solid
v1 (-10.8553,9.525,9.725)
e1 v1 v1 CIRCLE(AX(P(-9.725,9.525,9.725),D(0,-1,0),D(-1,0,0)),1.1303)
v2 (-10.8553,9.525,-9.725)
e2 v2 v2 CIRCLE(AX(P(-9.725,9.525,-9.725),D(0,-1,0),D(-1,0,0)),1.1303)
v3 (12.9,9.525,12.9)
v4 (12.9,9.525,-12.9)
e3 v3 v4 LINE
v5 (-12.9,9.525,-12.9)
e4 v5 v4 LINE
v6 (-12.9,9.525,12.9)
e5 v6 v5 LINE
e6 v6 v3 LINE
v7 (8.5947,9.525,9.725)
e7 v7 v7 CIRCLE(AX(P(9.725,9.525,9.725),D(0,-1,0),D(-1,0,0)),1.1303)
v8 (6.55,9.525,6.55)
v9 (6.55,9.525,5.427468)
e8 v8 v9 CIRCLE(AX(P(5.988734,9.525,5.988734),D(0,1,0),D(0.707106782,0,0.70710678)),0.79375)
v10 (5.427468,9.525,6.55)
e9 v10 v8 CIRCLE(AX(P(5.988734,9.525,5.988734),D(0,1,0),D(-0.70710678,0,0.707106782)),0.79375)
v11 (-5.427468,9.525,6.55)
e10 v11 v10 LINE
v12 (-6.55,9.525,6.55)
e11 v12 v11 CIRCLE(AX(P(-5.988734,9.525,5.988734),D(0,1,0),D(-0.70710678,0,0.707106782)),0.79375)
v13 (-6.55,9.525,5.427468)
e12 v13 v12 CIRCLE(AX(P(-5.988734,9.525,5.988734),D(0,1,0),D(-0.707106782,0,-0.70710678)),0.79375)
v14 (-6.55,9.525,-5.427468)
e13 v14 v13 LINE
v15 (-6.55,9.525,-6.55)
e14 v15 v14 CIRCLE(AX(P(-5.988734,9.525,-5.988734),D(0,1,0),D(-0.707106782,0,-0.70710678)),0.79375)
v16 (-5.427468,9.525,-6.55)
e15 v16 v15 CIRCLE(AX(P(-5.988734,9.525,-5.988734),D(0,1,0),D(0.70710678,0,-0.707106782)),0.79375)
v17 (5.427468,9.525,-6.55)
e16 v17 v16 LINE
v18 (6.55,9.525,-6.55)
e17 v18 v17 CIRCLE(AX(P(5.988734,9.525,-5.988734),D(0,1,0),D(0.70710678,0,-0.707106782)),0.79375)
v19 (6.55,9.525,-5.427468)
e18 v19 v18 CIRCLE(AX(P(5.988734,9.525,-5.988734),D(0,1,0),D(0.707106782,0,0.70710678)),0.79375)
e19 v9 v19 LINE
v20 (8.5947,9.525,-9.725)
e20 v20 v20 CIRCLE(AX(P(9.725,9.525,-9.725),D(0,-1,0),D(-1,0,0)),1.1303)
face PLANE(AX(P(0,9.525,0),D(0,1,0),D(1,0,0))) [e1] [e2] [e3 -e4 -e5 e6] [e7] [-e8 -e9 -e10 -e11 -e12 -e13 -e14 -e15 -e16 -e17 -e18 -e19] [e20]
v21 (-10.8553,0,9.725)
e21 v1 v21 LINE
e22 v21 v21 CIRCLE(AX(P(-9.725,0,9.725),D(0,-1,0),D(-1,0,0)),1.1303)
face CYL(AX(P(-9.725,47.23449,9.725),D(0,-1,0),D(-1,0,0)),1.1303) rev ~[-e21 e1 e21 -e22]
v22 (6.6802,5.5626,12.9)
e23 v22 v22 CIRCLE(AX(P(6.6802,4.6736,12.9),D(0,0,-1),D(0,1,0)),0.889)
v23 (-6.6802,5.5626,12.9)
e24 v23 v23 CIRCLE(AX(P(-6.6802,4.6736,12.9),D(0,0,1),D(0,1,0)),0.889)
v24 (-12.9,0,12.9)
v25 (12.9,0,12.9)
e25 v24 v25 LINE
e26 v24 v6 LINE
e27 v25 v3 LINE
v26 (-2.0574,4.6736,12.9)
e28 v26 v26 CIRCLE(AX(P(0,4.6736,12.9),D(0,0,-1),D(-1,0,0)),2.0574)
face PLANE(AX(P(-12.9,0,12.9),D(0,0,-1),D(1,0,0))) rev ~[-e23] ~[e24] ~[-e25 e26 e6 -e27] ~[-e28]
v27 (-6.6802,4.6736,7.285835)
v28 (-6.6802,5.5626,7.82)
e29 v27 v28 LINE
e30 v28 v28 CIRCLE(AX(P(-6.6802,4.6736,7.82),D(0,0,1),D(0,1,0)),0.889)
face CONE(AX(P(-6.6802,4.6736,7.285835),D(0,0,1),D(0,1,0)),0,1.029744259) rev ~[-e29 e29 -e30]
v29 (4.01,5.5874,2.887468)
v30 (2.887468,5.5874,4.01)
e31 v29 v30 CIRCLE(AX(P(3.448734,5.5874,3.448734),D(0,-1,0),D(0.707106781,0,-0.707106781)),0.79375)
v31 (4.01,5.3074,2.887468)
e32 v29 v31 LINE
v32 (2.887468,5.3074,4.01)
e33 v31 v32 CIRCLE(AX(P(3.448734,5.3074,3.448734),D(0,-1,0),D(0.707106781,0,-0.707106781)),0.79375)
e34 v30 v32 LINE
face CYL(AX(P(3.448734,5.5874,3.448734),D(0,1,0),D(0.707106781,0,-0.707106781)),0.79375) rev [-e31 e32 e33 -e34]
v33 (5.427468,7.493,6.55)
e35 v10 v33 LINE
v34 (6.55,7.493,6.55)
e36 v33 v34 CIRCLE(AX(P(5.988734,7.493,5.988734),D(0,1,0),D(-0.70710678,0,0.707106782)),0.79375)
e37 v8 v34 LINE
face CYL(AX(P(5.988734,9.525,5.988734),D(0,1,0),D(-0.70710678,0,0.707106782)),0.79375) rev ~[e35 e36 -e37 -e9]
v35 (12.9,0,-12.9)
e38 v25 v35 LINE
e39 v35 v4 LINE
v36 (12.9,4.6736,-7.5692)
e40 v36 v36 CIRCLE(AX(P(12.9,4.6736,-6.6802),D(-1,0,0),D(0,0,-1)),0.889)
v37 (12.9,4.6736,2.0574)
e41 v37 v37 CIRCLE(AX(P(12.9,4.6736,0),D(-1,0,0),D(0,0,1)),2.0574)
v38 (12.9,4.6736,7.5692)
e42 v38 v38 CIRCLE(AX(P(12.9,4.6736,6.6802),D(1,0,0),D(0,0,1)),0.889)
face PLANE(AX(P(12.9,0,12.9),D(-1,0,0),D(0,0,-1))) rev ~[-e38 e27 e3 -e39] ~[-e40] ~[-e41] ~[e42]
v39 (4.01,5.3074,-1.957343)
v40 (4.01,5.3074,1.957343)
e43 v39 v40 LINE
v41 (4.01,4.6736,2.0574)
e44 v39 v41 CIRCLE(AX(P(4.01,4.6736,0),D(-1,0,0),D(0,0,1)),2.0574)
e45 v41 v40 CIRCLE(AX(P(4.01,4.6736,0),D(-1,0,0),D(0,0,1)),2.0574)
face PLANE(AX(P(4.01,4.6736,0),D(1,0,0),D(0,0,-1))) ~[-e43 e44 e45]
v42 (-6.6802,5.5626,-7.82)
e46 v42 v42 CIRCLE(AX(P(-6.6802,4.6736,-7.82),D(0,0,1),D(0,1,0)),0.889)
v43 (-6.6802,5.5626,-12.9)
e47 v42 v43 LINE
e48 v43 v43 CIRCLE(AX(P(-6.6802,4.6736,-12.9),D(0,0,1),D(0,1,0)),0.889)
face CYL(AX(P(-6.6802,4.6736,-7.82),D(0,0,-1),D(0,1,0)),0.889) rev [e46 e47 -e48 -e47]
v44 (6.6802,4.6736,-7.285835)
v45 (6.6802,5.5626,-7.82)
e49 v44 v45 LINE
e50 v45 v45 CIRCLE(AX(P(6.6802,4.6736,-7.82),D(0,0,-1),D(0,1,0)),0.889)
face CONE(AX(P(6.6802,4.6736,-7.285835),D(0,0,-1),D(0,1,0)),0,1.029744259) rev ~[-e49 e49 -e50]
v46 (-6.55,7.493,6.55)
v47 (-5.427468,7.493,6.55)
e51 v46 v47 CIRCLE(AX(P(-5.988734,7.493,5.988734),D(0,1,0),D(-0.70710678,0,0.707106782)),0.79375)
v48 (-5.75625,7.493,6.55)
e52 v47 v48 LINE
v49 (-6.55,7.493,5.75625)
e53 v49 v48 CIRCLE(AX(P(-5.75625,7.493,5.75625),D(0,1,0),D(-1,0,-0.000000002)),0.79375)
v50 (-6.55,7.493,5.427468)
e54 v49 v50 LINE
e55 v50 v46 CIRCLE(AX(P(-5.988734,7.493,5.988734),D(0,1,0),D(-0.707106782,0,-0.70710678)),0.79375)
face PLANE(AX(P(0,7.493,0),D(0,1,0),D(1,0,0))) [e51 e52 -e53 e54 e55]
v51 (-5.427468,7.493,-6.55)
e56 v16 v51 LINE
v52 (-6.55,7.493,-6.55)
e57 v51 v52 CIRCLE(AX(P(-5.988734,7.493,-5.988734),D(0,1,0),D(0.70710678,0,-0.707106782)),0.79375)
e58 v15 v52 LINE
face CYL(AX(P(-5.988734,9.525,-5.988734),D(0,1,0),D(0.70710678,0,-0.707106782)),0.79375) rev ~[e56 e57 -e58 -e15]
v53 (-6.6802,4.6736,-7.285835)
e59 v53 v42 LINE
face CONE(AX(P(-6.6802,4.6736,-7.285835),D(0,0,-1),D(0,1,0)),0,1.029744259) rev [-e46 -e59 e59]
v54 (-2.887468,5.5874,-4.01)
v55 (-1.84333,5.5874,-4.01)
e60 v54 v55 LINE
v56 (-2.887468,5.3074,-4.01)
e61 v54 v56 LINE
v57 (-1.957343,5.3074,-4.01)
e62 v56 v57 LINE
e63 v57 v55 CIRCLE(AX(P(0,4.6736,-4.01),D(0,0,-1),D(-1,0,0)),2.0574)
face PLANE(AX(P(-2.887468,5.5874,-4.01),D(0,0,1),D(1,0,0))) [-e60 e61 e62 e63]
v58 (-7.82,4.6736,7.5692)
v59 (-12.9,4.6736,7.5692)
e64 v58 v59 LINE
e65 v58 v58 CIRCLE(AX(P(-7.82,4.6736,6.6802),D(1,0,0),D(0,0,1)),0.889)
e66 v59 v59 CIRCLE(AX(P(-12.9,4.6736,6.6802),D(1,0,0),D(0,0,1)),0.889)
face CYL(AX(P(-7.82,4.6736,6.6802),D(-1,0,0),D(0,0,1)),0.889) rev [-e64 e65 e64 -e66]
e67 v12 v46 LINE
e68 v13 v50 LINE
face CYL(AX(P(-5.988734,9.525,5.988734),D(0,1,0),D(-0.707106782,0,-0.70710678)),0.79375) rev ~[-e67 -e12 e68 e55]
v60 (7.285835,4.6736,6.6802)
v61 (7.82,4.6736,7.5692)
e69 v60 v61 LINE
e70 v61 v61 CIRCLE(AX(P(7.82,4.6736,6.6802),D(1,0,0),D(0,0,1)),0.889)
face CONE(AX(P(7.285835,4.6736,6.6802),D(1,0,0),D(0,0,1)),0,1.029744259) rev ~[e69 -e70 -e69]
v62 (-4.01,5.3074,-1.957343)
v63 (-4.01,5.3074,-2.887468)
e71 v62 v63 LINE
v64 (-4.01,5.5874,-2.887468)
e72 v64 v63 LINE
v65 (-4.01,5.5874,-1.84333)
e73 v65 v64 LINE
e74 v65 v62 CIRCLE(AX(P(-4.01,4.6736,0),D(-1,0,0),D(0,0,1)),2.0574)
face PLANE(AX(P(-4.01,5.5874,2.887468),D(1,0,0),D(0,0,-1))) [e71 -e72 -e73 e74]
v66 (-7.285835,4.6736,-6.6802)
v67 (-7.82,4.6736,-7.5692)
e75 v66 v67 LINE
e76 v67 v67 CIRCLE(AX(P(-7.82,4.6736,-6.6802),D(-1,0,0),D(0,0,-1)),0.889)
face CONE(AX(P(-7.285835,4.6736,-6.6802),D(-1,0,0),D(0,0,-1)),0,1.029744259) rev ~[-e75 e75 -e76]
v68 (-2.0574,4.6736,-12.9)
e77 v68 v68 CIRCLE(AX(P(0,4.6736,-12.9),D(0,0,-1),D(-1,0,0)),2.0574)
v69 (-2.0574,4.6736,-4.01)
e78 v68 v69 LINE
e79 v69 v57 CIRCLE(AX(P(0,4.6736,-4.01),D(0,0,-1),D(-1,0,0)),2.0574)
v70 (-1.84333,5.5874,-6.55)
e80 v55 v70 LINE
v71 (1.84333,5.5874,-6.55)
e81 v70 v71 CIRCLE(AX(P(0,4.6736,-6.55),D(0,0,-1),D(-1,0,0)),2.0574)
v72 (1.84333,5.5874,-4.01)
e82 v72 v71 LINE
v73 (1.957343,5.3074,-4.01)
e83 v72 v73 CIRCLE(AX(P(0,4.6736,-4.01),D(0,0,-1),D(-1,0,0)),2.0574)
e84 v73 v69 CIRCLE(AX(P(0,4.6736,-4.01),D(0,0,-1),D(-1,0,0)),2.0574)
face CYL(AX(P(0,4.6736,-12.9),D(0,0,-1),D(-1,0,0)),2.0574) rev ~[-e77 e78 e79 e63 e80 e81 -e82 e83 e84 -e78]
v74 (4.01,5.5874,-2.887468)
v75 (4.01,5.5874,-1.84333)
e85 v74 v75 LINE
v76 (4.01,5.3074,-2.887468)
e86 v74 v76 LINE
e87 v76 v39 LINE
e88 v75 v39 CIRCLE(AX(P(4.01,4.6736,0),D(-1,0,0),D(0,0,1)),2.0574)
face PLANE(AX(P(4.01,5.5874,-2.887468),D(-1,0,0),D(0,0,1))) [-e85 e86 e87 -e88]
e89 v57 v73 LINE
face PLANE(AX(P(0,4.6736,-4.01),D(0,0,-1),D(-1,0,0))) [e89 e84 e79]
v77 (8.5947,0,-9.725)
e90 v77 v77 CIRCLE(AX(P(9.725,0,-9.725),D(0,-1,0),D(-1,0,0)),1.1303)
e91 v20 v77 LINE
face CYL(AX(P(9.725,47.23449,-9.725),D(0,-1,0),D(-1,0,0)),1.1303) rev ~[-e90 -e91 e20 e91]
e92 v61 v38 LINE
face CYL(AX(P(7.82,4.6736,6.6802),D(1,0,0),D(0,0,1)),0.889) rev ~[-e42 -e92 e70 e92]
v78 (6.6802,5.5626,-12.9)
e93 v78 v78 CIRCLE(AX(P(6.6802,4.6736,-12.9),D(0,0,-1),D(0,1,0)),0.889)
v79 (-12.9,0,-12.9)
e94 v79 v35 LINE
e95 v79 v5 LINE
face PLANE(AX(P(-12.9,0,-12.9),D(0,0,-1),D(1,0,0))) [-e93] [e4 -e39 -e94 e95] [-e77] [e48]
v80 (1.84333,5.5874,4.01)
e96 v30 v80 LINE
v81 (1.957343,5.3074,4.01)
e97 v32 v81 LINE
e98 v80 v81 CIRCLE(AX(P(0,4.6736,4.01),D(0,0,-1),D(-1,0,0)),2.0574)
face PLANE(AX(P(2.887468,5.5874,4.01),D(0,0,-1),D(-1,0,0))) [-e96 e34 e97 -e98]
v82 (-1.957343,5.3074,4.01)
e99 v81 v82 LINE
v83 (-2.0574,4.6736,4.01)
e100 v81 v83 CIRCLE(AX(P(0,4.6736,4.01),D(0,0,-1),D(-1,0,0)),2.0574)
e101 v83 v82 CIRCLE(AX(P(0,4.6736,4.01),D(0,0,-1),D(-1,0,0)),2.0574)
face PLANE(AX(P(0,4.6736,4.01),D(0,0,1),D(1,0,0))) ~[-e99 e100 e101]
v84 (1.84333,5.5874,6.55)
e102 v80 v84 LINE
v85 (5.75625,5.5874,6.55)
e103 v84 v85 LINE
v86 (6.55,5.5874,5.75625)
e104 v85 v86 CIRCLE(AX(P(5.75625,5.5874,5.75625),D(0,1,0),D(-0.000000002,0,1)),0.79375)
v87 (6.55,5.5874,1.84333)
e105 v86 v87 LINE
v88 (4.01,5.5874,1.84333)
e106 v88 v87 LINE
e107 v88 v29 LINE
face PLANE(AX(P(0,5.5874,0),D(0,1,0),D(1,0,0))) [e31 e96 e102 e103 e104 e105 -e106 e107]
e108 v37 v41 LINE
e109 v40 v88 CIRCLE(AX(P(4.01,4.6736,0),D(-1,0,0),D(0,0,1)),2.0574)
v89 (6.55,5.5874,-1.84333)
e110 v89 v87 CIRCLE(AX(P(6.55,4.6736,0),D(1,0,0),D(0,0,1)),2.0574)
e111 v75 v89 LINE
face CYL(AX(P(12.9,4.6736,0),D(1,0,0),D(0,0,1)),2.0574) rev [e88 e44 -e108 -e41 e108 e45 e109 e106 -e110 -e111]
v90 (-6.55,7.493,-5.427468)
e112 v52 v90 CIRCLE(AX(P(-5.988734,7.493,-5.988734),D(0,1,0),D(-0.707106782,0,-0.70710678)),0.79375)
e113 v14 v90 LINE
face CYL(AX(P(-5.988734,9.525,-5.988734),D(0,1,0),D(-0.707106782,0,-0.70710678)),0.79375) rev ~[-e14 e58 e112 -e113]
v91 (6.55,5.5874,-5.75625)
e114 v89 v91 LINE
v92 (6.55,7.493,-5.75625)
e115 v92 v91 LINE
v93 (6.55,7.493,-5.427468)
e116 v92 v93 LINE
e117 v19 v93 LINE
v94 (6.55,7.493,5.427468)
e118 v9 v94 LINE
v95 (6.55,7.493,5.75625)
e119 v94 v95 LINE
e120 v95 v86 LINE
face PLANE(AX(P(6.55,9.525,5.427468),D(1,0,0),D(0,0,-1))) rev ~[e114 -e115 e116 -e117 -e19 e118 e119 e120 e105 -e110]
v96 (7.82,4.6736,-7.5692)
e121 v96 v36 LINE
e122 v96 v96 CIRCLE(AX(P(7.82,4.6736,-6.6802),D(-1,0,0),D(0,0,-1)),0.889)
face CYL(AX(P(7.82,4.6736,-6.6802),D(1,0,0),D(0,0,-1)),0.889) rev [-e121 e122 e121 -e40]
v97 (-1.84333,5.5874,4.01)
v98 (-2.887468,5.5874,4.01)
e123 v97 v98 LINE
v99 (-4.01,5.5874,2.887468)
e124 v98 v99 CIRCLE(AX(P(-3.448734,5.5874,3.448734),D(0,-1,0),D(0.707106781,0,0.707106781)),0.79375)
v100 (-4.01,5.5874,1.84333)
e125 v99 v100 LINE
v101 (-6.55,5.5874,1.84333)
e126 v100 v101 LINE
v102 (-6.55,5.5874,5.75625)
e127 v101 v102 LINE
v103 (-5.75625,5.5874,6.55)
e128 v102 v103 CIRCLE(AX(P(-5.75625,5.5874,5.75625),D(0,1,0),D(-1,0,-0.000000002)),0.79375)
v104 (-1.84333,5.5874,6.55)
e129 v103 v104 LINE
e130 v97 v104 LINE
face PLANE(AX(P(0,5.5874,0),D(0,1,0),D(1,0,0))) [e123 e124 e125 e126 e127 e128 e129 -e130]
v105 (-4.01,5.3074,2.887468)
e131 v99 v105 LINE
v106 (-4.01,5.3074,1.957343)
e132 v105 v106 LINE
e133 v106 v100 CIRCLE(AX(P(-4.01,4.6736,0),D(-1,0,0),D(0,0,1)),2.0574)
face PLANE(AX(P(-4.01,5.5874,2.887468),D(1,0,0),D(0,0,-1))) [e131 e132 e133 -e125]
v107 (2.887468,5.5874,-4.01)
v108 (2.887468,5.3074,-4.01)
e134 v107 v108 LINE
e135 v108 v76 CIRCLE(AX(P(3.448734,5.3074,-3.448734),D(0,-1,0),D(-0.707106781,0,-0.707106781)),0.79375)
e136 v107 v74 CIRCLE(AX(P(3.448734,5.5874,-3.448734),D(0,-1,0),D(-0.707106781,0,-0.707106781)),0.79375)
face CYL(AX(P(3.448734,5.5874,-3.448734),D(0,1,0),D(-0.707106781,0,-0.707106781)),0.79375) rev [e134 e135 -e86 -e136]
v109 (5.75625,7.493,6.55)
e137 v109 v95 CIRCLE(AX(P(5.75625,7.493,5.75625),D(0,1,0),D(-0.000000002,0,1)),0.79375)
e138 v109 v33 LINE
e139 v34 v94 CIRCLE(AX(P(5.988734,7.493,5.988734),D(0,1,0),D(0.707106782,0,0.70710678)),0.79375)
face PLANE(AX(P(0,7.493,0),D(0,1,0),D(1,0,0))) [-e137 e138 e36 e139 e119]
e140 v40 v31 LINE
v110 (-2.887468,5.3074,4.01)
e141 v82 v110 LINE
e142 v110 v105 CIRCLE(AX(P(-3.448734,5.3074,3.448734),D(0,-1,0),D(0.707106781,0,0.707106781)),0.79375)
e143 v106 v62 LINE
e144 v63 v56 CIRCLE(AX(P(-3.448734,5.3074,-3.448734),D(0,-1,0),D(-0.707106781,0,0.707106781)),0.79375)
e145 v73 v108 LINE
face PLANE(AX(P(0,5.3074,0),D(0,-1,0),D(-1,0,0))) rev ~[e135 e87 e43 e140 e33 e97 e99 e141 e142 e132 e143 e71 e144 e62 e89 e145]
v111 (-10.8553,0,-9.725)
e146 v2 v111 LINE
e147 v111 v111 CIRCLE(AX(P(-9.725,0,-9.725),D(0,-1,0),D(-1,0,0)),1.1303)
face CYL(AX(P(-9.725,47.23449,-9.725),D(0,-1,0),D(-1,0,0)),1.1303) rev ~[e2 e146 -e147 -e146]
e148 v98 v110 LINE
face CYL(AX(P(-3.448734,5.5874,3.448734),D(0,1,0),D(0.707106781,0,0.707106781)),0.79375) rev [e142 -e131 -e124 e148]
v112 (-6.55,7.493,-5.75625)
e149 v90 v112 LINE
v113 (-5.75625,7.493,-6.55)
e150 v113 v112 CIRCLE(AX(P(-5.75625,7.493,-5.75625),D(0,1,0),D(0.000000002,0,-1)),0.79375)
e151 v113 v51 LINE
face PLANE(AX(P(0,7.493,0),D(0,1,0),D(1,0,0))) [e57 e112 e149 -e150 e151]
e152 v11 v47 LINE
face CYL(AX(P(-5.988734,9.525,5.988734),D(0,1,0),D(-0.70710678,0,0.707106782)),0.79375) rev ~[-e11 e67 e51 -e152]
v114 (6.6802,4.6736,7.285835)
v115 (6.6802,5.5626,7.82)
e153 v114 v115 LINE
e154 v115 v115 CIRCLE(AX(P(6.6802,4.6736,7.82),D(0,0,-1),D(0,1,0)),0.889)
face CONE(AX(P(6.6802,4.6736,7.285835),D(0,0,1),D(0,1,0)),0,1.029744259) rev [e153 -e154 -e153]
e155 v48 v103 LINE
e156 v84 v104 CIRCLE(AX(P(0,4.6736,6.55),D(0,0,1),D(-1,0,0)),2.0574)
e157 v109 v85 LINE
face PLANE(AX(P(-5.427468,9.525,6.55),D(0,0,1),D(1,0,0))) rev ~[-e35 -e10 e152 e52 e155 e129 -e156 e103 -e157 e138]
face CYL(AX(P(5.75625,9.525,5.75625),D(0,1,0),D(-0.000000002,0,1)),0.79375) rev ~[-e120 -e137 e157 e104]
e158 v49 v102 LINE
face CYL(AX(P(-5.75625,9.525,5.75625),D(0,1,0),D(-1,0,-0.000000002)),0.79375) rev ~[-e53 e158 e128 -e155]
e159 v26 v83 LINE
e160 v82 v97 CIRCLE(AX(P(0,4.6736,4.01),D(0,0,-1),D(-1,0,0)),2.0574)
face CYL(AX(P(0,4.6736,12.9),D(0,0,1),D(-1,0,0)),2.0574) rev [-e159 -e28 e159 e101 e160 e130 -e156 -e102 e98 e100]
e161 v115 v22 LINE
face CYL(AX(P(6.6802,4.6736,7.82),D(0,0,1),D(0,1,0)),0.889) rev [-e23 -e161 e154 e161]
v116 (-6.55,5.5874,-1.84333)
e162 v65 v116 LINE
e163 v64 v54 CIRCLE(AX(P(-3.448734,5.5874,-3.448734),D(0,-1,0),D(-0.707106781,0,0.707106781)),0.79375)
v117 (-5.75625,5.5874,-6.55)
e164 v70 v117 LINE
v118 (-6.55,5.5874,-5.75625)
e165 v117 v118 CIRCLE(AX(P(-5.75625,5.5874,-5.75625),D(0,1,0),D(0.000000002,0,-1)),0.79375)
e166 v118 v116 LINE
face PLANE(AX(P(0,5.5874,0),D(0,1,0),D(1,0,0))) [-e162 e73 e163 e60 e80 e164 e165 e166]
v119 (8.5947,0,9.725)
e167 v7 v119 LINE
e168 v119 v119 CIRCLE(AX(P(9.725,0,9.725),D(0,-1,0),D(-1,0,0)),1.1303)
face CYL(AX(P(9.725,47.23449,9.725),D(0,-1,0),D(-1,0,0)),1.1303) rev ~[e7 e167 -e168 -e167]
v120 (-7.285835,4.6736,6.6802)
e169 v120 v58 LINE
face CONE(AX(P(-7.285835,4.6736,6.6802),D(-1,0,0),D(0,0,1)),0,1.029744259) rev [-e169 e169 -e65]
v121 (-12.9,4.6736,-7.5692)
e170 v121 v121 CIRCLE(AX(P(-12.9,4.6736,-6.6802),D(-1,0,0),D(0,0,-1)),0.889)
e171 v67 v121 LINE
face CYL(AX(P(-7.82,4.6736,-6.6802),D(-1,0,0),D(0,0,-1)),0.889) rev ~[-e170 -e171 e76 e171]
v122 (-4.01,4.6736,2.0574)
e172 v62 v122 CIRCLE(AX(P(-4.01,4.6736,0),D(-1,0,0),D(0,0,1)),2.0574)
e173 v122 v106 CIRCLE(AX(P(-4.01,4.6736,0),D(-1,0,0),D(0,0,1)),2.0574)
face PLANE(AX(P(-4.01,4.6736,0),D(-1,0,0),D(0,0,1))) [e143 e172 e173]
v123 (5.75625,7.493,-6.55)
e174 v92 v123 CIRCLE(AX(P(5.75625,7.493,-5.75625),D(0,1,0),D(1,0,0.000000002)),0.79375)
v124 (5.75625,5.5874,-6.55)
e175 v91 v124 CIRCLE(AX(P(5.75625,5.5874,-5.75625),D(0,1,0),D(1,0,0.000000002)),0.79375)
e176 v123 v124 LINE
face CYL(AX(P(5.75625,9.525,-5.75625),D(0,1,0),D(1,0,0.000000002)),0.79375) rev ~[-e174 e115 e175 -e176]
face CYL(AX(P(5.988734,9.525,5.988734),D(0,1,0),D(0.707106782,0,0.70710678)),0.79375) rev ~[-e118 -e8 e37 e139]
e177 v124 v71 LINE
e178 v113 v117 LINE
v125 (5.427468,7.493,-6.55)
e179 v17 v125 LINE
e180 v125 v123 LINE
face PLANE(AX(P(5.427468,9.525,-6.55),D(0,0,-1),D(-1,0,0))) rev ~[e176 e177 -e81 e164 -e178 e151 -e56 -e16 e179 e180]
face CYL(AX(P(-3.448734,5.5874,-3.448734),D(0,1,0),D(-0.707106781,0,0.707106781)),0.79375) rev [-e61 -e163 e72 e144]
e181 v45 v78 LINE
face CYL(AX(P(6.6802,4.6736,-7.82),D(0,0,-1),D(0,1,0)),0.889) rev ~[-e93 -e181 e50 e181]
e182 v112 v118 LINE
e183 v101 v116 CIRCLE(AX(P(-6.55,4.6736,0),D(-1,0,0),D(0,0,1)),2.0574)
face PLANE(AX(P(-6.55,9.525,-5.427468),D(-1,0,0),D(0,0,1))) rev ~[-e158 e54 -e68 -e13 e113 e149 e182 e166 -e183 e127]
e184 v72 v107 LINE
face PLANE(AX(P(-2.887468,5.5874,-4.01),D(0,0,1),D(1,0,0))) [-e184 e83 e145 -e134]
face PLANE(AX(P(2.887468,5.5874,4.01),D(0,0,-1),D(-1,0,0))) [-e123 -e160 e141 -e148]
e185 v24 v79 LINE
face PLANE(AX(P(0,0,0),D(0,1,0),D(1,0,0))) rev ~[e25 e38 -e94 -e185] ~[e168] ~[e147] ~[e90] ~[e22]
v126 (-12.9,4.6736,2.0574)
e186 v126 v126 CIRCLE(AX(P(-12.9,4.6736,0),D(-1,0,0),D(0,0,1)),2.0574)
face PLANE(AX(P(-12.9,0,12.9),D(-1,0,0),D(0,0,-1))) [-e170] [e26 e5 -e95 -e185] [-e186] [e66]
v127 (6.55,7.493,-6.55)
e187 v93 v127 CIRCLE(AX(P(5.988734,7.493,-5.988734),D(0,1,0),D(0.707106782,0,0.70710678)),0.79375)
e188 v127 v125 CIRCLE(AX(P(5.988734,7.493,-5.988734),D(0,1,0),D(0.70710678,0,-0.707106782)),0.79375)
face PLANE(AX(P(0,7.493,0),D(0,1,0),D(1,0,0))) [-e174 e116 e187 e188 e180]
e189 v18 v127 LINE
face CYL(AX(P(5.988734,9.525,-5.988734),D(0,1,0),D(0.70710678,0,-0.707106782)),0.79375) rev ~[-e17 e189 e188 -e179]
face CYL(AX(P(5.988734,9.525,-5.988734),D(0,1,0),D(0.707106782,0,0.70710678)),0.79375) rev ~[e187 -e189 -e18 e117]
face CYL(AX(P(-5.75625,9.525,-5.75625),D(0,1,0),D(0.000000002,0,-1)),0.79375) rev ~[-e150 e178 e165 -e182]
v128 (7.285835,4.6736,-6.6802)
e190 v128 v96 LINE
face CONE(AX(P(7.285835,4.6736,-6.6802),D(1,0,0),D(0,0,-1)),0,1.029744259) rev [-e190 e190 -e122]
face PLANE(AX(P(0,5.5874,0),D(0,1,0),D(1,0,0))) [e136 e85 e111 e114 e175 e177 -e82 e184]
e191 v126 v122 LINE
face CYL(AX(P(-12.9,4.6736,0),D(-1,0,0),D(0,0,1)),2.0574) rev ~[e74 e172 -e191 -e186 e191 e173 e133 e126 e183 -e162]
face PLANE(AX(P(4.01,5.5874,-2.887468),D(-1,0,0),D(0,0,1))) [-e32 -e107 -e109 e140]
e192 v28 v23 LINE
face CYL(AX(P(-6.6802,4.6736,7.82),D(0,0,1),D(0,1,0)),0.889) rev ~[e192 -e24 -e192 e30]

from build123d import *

# Parameters (mm, degrees)
SKETCH1_W             = 25.8
SKETCH1_H             = 25.8
BOSS_EXTRUDE1_DEPTH   = 9.525
SKETCH3_R             = 2.0574
CUT_EXTRUDE3_DEPTH    = 8.89
SKETCH7_R             = 2.0574
CUT_EXTRUDE5_DEPTH    = 8.89
CUT_EXTRUDE10_DEPTH   = 3.9376
CUT_EXTRUDE11_DEPTH   = 0.28
F_4_40_TAPPED_HOLE2_D = 2.2606
CUT_EXTRUDE12_DEPTH   = 2.032


with BuildPart() as part:
    # Sketch1 → Boss-Extrude1 (new body)
    with BuildSketch(Plane(origin=(0, 0, 0), x_dir=(1, 0, 0), z_dir=(0, 1, 0))):
        Rectangle(SKETCH1_W, SKETCH1_H)
    extrude(amount=BOSS_EXTRUDE1_DEPTH)

    # Sketch3 → Cut-Extrude3 (cut)
    with BuildSketch(Plane.ZY.offset(12.9)):
        with Locations((0, 4.6736)):
            Circle(SKETCH3_R)
    cut_extrude3 = extrude(amount=-CUT_EXTRUDE3_DEPTH, mode=Mode.SUBTRACT)

    # Mirror1: Cut-Extrude3 across plane
    add(cut_extrude3.mirror(Plane(origin=(0, 0, 0), x_dir=(0, 0, 1), z_dir=(1, 0, 0))), mode=Mode.SUBTRACT)

    # Sketch7 → Cut-Extrude5 (cut)
    with BuildSketch(Plane(origin=(0, 0, -12.9), x_dir=(-1, 0, 0), z_dir=(0, 0, -1))):
        with Locations((0, 4.6736)):
            Circle(SKETCH7_R)
    cut_extrude5 = extrude(amount=-CUT_EXTRUDE5_DEPTH, mode=Mode.SUBTRACT)

    # Mirror2: Cut-Extrude5 across plane
    add(cut_extrude5.mirror(Plane.XY), mode=Mode.SUBTRACT)

    # Sketch14 → Cut-Extrude10 (cut)
    with BuildSketch(Plane(origin=(0, 9.525, 0), x_dir=(1, 0, 0), z_dir=(0, 1, 0))):
        with BuildLine():
            Line((-5.75625, -6.55), (5.75625, -6.55))
            ThreePointArc((5.75625, -6.55), (6.317516008, -6.317516008), (6.55, -5.75625))
            Line((6.55, -5.75625), (6.55, 5.75625))
            ThreePointArc((6.55, 5.75625), (6.317516008, 6.317516008), (5.75625, 6.55))
            Line((5.75625, 6.55), (-5.75625, 6.55))
            ThreePointArc((-5.75625, 6.55), (-6.317516008, 6.317516008), (-6.55, 5.75625))
            Line((-6.55, 5.75625), (-6.55, -5.75625))
            ThreePointArc((-6.55, -5.75625), (-6.317516008, -6.317516008), (-5.75625, -6.55))
        make_face()
    extrude(amount=-CUT_EXTRUDE10_DEPTH, mode=Mode.SUBTRACT)

    # Sketch15 → Cut-Extrude11 (cut)
    with BuildSketch(Plane(origin=(0, 5.5874, 0), x_dir=(1, 0, 0), z_dir=(0, 1, 0))):
        with BuildLine():
            Line((-2.887467985, 4.01), (2.887467985, 4.01))
            ThreePointArc((2.887467985, 4.01), (4.01, 4.01), (4.01, 2.887467985))
            Line((4.01, 2.887467985), (4.01, -2.887467985))
            ThreePointArc((4.01, -2.887467985), (4.01, -4.01), (2.887467985, -4.01))
            Line((2.887467985, -4.01), (-2.887467985, -4.01))
            ThreePointArc((-2.887467985, -4.01), (-4.01, -4.01), (-4.01, -2.887467985))
            Line((-4.01, -2.887467985), (-4.01, 2.887467985))
            ThreePointArc((-4.01, 2.887467985), (-4.01, 4.01), (-2.887467985, 4.01))
        make_face()
    extrude(amount=-CUT_EXTRUDE11_DEPTH, mode=Mode.SUBTRACT)

    # #4-40 Tapped Hole2 (through all)
    with Locations(Plane(origin=(0, 9.525, 0), x_dir=(1, 0, 0), z_dir=(0, 1, 0))):
        with Locations((9.725, -9.725), (-9.725, -9.725), (-9.725, 9.725), (9.725, 9.725)):
            Hole(F_4_40_TAPPED_HOLE2_D / 2)

    # Sketch22 → #2-56 Tapped Hole1 (revolve, cut)
    with BuildSketch(Plane(origin=(-6.6802, 4.6736, -12.9), x_dir=(0, 1, 0), z_dir=(1, 0, 0))):
        Polygon((0, 0), (0, 5.61416509), (0.889, 5.08), (0.889, 0), align=None)
    f_2_56_tapped_hole1 = revolve(axis=Axis((-6.6802, 4.6736, -19.25), (0, 0, 1)), mode=Mode.SUBTRACT)

    # Mirror7: #2-56 Tapped Hole1 across plane
    add(f_2_56_tapped_hole1.mirror(Plane(origin=(0, 0, 0), x_dir=(0, 0, 1), z_dir=(1, 0, 0))), mode=Mode.SUBTRACT)

    # Mirror8: #2-56 Tapped Hole1 across plane
    add(f_2_56_tapped_hole1.mirror(Plane.XY), mode=Mode.SUBTRACT)

    # Mirror8 copy 1 sketch → Mirror8 copy 1 (revolve, cut)
    with BuildSketch(Plane(origin=(6.6802, 4.6736, 12.9), x_dir=(0, 1, 0), z_dir=(-1, 0, 0))):
        Polygon((0, 0), (0, 5.61416509), (0.889, 5.08), (0.889, 0), align=None)
    revolve(axis=Axis((6.6802, 4.6736, 19.25), (0, 0, -1)), mode=Mode.SUBTRACT)

    # Sketch24 → #2-56 Tapped Hole2 (revolve, cut)
    with BuildSketch(Plane(origin=(12.9, 4.6736, -6.6802), x_dir=(0, 0, -1), z_dir=(0, 1, 0))):
        Polygon((0, 0), (0, 5.61416509), (0.889, 5.08), (0.889, 0), align=None)
    f_2_56_tapped_hole2 = revolve(axis=Axis((19.25, 4.6736, -6.6802), (-1, 0, 0)), mode=Mode.SUBTRACT)

    # Mirror9: #2-56 Tapped Hole2 across plane
    add(f_2_56_tapped_hole2.mirror(Plane.XY), mode=Mode.SUBTRACT)

    # Mirror10: #2-56 Tapped Hole2 across plane
    add(f_2_56_tapped_hole2.mirror(Plane(origin=(0, 0, 0), x_dir=(0, 0, 1), z_dir=(1, 0, 0))), mode=Mode.SUBTRACT)

    # Mirror10 copy 1 sketch → Mirror10 copy 1 (revolve, cut)
    with BuildSketch(Plane(origin=(-12.9, 4.6736, 6.6802), x_dir=(0, 0, 1), z_dir=(0, 1, 0))):
        Polygon((0, 0), (0, 5.61416509), (0.889, 5.08), (0.889, 0), align=None)
    revolve(axis=Axis((-19.25, 4.6736, 6.6802), (1, 0, 0)), mode=Mode.SUBTRACT)

    # Sketch25 → Cut-Extrude12 (cut)
    with BuildSketch(Plane(origin=(0, 9.525, 0), x_dir=(1, 0, 0), z_dir=(0, 1, 0))):
        with BuildLine():
            Line((-5.427467966, -6.549999981), (5.427467966, -6.549999981))
            ThreePointArc((5.427467966, -6.549999981), (5.988733973, -6.782483973), (6.549999981, -6.549999981))
            ThreePointArc((6.549999981, -6.549999981), (6.782483973, -5.988733973), (6.549999981, -5.427467966))
            Line((6.549999981, -5.427467966), (6.549999981, 5.427467966))
            ThreePointArc((6.549999981, 5.427467966), (6.782483973, 5.988733973), (6.549999981, 6.549999981))
            ThreePointArc((6.549999981, 6.549999981), (5.988733973, 6.782483973), (5.427467966, 6.549999981))
            Line((5.427467966, 6.549999981), (-5.427467966, 6.549999981))
            ThreePointArc((-5.427467966, 6.549999981), (-5.988733973, 6.782483973), (-6.549999981, 6.549999981))
            ThreePointArc((-6.549999981, 6.549999981), (-6.782483973, 5.988733973), (-6.549999981, 5.427467966))
            Line((-6.549999981, 5.427467966), (-6.549999981, -5.427467966))
            ThreePointArc((-6.549999981, -5.427467966), (-6.782483973, -5.988733973), (-6.549999981, -6.549999981))
            ThreePointArc((-6.549999981, -6.549999981), (-5.988733973, -6.782483973), (-5.427467966, -6.549999981))
        make_face()
    extrude(amount=-CUT_EXTRUDE12_DEPTH, mode=Mode.SUBTRACT)


solid = part.part
